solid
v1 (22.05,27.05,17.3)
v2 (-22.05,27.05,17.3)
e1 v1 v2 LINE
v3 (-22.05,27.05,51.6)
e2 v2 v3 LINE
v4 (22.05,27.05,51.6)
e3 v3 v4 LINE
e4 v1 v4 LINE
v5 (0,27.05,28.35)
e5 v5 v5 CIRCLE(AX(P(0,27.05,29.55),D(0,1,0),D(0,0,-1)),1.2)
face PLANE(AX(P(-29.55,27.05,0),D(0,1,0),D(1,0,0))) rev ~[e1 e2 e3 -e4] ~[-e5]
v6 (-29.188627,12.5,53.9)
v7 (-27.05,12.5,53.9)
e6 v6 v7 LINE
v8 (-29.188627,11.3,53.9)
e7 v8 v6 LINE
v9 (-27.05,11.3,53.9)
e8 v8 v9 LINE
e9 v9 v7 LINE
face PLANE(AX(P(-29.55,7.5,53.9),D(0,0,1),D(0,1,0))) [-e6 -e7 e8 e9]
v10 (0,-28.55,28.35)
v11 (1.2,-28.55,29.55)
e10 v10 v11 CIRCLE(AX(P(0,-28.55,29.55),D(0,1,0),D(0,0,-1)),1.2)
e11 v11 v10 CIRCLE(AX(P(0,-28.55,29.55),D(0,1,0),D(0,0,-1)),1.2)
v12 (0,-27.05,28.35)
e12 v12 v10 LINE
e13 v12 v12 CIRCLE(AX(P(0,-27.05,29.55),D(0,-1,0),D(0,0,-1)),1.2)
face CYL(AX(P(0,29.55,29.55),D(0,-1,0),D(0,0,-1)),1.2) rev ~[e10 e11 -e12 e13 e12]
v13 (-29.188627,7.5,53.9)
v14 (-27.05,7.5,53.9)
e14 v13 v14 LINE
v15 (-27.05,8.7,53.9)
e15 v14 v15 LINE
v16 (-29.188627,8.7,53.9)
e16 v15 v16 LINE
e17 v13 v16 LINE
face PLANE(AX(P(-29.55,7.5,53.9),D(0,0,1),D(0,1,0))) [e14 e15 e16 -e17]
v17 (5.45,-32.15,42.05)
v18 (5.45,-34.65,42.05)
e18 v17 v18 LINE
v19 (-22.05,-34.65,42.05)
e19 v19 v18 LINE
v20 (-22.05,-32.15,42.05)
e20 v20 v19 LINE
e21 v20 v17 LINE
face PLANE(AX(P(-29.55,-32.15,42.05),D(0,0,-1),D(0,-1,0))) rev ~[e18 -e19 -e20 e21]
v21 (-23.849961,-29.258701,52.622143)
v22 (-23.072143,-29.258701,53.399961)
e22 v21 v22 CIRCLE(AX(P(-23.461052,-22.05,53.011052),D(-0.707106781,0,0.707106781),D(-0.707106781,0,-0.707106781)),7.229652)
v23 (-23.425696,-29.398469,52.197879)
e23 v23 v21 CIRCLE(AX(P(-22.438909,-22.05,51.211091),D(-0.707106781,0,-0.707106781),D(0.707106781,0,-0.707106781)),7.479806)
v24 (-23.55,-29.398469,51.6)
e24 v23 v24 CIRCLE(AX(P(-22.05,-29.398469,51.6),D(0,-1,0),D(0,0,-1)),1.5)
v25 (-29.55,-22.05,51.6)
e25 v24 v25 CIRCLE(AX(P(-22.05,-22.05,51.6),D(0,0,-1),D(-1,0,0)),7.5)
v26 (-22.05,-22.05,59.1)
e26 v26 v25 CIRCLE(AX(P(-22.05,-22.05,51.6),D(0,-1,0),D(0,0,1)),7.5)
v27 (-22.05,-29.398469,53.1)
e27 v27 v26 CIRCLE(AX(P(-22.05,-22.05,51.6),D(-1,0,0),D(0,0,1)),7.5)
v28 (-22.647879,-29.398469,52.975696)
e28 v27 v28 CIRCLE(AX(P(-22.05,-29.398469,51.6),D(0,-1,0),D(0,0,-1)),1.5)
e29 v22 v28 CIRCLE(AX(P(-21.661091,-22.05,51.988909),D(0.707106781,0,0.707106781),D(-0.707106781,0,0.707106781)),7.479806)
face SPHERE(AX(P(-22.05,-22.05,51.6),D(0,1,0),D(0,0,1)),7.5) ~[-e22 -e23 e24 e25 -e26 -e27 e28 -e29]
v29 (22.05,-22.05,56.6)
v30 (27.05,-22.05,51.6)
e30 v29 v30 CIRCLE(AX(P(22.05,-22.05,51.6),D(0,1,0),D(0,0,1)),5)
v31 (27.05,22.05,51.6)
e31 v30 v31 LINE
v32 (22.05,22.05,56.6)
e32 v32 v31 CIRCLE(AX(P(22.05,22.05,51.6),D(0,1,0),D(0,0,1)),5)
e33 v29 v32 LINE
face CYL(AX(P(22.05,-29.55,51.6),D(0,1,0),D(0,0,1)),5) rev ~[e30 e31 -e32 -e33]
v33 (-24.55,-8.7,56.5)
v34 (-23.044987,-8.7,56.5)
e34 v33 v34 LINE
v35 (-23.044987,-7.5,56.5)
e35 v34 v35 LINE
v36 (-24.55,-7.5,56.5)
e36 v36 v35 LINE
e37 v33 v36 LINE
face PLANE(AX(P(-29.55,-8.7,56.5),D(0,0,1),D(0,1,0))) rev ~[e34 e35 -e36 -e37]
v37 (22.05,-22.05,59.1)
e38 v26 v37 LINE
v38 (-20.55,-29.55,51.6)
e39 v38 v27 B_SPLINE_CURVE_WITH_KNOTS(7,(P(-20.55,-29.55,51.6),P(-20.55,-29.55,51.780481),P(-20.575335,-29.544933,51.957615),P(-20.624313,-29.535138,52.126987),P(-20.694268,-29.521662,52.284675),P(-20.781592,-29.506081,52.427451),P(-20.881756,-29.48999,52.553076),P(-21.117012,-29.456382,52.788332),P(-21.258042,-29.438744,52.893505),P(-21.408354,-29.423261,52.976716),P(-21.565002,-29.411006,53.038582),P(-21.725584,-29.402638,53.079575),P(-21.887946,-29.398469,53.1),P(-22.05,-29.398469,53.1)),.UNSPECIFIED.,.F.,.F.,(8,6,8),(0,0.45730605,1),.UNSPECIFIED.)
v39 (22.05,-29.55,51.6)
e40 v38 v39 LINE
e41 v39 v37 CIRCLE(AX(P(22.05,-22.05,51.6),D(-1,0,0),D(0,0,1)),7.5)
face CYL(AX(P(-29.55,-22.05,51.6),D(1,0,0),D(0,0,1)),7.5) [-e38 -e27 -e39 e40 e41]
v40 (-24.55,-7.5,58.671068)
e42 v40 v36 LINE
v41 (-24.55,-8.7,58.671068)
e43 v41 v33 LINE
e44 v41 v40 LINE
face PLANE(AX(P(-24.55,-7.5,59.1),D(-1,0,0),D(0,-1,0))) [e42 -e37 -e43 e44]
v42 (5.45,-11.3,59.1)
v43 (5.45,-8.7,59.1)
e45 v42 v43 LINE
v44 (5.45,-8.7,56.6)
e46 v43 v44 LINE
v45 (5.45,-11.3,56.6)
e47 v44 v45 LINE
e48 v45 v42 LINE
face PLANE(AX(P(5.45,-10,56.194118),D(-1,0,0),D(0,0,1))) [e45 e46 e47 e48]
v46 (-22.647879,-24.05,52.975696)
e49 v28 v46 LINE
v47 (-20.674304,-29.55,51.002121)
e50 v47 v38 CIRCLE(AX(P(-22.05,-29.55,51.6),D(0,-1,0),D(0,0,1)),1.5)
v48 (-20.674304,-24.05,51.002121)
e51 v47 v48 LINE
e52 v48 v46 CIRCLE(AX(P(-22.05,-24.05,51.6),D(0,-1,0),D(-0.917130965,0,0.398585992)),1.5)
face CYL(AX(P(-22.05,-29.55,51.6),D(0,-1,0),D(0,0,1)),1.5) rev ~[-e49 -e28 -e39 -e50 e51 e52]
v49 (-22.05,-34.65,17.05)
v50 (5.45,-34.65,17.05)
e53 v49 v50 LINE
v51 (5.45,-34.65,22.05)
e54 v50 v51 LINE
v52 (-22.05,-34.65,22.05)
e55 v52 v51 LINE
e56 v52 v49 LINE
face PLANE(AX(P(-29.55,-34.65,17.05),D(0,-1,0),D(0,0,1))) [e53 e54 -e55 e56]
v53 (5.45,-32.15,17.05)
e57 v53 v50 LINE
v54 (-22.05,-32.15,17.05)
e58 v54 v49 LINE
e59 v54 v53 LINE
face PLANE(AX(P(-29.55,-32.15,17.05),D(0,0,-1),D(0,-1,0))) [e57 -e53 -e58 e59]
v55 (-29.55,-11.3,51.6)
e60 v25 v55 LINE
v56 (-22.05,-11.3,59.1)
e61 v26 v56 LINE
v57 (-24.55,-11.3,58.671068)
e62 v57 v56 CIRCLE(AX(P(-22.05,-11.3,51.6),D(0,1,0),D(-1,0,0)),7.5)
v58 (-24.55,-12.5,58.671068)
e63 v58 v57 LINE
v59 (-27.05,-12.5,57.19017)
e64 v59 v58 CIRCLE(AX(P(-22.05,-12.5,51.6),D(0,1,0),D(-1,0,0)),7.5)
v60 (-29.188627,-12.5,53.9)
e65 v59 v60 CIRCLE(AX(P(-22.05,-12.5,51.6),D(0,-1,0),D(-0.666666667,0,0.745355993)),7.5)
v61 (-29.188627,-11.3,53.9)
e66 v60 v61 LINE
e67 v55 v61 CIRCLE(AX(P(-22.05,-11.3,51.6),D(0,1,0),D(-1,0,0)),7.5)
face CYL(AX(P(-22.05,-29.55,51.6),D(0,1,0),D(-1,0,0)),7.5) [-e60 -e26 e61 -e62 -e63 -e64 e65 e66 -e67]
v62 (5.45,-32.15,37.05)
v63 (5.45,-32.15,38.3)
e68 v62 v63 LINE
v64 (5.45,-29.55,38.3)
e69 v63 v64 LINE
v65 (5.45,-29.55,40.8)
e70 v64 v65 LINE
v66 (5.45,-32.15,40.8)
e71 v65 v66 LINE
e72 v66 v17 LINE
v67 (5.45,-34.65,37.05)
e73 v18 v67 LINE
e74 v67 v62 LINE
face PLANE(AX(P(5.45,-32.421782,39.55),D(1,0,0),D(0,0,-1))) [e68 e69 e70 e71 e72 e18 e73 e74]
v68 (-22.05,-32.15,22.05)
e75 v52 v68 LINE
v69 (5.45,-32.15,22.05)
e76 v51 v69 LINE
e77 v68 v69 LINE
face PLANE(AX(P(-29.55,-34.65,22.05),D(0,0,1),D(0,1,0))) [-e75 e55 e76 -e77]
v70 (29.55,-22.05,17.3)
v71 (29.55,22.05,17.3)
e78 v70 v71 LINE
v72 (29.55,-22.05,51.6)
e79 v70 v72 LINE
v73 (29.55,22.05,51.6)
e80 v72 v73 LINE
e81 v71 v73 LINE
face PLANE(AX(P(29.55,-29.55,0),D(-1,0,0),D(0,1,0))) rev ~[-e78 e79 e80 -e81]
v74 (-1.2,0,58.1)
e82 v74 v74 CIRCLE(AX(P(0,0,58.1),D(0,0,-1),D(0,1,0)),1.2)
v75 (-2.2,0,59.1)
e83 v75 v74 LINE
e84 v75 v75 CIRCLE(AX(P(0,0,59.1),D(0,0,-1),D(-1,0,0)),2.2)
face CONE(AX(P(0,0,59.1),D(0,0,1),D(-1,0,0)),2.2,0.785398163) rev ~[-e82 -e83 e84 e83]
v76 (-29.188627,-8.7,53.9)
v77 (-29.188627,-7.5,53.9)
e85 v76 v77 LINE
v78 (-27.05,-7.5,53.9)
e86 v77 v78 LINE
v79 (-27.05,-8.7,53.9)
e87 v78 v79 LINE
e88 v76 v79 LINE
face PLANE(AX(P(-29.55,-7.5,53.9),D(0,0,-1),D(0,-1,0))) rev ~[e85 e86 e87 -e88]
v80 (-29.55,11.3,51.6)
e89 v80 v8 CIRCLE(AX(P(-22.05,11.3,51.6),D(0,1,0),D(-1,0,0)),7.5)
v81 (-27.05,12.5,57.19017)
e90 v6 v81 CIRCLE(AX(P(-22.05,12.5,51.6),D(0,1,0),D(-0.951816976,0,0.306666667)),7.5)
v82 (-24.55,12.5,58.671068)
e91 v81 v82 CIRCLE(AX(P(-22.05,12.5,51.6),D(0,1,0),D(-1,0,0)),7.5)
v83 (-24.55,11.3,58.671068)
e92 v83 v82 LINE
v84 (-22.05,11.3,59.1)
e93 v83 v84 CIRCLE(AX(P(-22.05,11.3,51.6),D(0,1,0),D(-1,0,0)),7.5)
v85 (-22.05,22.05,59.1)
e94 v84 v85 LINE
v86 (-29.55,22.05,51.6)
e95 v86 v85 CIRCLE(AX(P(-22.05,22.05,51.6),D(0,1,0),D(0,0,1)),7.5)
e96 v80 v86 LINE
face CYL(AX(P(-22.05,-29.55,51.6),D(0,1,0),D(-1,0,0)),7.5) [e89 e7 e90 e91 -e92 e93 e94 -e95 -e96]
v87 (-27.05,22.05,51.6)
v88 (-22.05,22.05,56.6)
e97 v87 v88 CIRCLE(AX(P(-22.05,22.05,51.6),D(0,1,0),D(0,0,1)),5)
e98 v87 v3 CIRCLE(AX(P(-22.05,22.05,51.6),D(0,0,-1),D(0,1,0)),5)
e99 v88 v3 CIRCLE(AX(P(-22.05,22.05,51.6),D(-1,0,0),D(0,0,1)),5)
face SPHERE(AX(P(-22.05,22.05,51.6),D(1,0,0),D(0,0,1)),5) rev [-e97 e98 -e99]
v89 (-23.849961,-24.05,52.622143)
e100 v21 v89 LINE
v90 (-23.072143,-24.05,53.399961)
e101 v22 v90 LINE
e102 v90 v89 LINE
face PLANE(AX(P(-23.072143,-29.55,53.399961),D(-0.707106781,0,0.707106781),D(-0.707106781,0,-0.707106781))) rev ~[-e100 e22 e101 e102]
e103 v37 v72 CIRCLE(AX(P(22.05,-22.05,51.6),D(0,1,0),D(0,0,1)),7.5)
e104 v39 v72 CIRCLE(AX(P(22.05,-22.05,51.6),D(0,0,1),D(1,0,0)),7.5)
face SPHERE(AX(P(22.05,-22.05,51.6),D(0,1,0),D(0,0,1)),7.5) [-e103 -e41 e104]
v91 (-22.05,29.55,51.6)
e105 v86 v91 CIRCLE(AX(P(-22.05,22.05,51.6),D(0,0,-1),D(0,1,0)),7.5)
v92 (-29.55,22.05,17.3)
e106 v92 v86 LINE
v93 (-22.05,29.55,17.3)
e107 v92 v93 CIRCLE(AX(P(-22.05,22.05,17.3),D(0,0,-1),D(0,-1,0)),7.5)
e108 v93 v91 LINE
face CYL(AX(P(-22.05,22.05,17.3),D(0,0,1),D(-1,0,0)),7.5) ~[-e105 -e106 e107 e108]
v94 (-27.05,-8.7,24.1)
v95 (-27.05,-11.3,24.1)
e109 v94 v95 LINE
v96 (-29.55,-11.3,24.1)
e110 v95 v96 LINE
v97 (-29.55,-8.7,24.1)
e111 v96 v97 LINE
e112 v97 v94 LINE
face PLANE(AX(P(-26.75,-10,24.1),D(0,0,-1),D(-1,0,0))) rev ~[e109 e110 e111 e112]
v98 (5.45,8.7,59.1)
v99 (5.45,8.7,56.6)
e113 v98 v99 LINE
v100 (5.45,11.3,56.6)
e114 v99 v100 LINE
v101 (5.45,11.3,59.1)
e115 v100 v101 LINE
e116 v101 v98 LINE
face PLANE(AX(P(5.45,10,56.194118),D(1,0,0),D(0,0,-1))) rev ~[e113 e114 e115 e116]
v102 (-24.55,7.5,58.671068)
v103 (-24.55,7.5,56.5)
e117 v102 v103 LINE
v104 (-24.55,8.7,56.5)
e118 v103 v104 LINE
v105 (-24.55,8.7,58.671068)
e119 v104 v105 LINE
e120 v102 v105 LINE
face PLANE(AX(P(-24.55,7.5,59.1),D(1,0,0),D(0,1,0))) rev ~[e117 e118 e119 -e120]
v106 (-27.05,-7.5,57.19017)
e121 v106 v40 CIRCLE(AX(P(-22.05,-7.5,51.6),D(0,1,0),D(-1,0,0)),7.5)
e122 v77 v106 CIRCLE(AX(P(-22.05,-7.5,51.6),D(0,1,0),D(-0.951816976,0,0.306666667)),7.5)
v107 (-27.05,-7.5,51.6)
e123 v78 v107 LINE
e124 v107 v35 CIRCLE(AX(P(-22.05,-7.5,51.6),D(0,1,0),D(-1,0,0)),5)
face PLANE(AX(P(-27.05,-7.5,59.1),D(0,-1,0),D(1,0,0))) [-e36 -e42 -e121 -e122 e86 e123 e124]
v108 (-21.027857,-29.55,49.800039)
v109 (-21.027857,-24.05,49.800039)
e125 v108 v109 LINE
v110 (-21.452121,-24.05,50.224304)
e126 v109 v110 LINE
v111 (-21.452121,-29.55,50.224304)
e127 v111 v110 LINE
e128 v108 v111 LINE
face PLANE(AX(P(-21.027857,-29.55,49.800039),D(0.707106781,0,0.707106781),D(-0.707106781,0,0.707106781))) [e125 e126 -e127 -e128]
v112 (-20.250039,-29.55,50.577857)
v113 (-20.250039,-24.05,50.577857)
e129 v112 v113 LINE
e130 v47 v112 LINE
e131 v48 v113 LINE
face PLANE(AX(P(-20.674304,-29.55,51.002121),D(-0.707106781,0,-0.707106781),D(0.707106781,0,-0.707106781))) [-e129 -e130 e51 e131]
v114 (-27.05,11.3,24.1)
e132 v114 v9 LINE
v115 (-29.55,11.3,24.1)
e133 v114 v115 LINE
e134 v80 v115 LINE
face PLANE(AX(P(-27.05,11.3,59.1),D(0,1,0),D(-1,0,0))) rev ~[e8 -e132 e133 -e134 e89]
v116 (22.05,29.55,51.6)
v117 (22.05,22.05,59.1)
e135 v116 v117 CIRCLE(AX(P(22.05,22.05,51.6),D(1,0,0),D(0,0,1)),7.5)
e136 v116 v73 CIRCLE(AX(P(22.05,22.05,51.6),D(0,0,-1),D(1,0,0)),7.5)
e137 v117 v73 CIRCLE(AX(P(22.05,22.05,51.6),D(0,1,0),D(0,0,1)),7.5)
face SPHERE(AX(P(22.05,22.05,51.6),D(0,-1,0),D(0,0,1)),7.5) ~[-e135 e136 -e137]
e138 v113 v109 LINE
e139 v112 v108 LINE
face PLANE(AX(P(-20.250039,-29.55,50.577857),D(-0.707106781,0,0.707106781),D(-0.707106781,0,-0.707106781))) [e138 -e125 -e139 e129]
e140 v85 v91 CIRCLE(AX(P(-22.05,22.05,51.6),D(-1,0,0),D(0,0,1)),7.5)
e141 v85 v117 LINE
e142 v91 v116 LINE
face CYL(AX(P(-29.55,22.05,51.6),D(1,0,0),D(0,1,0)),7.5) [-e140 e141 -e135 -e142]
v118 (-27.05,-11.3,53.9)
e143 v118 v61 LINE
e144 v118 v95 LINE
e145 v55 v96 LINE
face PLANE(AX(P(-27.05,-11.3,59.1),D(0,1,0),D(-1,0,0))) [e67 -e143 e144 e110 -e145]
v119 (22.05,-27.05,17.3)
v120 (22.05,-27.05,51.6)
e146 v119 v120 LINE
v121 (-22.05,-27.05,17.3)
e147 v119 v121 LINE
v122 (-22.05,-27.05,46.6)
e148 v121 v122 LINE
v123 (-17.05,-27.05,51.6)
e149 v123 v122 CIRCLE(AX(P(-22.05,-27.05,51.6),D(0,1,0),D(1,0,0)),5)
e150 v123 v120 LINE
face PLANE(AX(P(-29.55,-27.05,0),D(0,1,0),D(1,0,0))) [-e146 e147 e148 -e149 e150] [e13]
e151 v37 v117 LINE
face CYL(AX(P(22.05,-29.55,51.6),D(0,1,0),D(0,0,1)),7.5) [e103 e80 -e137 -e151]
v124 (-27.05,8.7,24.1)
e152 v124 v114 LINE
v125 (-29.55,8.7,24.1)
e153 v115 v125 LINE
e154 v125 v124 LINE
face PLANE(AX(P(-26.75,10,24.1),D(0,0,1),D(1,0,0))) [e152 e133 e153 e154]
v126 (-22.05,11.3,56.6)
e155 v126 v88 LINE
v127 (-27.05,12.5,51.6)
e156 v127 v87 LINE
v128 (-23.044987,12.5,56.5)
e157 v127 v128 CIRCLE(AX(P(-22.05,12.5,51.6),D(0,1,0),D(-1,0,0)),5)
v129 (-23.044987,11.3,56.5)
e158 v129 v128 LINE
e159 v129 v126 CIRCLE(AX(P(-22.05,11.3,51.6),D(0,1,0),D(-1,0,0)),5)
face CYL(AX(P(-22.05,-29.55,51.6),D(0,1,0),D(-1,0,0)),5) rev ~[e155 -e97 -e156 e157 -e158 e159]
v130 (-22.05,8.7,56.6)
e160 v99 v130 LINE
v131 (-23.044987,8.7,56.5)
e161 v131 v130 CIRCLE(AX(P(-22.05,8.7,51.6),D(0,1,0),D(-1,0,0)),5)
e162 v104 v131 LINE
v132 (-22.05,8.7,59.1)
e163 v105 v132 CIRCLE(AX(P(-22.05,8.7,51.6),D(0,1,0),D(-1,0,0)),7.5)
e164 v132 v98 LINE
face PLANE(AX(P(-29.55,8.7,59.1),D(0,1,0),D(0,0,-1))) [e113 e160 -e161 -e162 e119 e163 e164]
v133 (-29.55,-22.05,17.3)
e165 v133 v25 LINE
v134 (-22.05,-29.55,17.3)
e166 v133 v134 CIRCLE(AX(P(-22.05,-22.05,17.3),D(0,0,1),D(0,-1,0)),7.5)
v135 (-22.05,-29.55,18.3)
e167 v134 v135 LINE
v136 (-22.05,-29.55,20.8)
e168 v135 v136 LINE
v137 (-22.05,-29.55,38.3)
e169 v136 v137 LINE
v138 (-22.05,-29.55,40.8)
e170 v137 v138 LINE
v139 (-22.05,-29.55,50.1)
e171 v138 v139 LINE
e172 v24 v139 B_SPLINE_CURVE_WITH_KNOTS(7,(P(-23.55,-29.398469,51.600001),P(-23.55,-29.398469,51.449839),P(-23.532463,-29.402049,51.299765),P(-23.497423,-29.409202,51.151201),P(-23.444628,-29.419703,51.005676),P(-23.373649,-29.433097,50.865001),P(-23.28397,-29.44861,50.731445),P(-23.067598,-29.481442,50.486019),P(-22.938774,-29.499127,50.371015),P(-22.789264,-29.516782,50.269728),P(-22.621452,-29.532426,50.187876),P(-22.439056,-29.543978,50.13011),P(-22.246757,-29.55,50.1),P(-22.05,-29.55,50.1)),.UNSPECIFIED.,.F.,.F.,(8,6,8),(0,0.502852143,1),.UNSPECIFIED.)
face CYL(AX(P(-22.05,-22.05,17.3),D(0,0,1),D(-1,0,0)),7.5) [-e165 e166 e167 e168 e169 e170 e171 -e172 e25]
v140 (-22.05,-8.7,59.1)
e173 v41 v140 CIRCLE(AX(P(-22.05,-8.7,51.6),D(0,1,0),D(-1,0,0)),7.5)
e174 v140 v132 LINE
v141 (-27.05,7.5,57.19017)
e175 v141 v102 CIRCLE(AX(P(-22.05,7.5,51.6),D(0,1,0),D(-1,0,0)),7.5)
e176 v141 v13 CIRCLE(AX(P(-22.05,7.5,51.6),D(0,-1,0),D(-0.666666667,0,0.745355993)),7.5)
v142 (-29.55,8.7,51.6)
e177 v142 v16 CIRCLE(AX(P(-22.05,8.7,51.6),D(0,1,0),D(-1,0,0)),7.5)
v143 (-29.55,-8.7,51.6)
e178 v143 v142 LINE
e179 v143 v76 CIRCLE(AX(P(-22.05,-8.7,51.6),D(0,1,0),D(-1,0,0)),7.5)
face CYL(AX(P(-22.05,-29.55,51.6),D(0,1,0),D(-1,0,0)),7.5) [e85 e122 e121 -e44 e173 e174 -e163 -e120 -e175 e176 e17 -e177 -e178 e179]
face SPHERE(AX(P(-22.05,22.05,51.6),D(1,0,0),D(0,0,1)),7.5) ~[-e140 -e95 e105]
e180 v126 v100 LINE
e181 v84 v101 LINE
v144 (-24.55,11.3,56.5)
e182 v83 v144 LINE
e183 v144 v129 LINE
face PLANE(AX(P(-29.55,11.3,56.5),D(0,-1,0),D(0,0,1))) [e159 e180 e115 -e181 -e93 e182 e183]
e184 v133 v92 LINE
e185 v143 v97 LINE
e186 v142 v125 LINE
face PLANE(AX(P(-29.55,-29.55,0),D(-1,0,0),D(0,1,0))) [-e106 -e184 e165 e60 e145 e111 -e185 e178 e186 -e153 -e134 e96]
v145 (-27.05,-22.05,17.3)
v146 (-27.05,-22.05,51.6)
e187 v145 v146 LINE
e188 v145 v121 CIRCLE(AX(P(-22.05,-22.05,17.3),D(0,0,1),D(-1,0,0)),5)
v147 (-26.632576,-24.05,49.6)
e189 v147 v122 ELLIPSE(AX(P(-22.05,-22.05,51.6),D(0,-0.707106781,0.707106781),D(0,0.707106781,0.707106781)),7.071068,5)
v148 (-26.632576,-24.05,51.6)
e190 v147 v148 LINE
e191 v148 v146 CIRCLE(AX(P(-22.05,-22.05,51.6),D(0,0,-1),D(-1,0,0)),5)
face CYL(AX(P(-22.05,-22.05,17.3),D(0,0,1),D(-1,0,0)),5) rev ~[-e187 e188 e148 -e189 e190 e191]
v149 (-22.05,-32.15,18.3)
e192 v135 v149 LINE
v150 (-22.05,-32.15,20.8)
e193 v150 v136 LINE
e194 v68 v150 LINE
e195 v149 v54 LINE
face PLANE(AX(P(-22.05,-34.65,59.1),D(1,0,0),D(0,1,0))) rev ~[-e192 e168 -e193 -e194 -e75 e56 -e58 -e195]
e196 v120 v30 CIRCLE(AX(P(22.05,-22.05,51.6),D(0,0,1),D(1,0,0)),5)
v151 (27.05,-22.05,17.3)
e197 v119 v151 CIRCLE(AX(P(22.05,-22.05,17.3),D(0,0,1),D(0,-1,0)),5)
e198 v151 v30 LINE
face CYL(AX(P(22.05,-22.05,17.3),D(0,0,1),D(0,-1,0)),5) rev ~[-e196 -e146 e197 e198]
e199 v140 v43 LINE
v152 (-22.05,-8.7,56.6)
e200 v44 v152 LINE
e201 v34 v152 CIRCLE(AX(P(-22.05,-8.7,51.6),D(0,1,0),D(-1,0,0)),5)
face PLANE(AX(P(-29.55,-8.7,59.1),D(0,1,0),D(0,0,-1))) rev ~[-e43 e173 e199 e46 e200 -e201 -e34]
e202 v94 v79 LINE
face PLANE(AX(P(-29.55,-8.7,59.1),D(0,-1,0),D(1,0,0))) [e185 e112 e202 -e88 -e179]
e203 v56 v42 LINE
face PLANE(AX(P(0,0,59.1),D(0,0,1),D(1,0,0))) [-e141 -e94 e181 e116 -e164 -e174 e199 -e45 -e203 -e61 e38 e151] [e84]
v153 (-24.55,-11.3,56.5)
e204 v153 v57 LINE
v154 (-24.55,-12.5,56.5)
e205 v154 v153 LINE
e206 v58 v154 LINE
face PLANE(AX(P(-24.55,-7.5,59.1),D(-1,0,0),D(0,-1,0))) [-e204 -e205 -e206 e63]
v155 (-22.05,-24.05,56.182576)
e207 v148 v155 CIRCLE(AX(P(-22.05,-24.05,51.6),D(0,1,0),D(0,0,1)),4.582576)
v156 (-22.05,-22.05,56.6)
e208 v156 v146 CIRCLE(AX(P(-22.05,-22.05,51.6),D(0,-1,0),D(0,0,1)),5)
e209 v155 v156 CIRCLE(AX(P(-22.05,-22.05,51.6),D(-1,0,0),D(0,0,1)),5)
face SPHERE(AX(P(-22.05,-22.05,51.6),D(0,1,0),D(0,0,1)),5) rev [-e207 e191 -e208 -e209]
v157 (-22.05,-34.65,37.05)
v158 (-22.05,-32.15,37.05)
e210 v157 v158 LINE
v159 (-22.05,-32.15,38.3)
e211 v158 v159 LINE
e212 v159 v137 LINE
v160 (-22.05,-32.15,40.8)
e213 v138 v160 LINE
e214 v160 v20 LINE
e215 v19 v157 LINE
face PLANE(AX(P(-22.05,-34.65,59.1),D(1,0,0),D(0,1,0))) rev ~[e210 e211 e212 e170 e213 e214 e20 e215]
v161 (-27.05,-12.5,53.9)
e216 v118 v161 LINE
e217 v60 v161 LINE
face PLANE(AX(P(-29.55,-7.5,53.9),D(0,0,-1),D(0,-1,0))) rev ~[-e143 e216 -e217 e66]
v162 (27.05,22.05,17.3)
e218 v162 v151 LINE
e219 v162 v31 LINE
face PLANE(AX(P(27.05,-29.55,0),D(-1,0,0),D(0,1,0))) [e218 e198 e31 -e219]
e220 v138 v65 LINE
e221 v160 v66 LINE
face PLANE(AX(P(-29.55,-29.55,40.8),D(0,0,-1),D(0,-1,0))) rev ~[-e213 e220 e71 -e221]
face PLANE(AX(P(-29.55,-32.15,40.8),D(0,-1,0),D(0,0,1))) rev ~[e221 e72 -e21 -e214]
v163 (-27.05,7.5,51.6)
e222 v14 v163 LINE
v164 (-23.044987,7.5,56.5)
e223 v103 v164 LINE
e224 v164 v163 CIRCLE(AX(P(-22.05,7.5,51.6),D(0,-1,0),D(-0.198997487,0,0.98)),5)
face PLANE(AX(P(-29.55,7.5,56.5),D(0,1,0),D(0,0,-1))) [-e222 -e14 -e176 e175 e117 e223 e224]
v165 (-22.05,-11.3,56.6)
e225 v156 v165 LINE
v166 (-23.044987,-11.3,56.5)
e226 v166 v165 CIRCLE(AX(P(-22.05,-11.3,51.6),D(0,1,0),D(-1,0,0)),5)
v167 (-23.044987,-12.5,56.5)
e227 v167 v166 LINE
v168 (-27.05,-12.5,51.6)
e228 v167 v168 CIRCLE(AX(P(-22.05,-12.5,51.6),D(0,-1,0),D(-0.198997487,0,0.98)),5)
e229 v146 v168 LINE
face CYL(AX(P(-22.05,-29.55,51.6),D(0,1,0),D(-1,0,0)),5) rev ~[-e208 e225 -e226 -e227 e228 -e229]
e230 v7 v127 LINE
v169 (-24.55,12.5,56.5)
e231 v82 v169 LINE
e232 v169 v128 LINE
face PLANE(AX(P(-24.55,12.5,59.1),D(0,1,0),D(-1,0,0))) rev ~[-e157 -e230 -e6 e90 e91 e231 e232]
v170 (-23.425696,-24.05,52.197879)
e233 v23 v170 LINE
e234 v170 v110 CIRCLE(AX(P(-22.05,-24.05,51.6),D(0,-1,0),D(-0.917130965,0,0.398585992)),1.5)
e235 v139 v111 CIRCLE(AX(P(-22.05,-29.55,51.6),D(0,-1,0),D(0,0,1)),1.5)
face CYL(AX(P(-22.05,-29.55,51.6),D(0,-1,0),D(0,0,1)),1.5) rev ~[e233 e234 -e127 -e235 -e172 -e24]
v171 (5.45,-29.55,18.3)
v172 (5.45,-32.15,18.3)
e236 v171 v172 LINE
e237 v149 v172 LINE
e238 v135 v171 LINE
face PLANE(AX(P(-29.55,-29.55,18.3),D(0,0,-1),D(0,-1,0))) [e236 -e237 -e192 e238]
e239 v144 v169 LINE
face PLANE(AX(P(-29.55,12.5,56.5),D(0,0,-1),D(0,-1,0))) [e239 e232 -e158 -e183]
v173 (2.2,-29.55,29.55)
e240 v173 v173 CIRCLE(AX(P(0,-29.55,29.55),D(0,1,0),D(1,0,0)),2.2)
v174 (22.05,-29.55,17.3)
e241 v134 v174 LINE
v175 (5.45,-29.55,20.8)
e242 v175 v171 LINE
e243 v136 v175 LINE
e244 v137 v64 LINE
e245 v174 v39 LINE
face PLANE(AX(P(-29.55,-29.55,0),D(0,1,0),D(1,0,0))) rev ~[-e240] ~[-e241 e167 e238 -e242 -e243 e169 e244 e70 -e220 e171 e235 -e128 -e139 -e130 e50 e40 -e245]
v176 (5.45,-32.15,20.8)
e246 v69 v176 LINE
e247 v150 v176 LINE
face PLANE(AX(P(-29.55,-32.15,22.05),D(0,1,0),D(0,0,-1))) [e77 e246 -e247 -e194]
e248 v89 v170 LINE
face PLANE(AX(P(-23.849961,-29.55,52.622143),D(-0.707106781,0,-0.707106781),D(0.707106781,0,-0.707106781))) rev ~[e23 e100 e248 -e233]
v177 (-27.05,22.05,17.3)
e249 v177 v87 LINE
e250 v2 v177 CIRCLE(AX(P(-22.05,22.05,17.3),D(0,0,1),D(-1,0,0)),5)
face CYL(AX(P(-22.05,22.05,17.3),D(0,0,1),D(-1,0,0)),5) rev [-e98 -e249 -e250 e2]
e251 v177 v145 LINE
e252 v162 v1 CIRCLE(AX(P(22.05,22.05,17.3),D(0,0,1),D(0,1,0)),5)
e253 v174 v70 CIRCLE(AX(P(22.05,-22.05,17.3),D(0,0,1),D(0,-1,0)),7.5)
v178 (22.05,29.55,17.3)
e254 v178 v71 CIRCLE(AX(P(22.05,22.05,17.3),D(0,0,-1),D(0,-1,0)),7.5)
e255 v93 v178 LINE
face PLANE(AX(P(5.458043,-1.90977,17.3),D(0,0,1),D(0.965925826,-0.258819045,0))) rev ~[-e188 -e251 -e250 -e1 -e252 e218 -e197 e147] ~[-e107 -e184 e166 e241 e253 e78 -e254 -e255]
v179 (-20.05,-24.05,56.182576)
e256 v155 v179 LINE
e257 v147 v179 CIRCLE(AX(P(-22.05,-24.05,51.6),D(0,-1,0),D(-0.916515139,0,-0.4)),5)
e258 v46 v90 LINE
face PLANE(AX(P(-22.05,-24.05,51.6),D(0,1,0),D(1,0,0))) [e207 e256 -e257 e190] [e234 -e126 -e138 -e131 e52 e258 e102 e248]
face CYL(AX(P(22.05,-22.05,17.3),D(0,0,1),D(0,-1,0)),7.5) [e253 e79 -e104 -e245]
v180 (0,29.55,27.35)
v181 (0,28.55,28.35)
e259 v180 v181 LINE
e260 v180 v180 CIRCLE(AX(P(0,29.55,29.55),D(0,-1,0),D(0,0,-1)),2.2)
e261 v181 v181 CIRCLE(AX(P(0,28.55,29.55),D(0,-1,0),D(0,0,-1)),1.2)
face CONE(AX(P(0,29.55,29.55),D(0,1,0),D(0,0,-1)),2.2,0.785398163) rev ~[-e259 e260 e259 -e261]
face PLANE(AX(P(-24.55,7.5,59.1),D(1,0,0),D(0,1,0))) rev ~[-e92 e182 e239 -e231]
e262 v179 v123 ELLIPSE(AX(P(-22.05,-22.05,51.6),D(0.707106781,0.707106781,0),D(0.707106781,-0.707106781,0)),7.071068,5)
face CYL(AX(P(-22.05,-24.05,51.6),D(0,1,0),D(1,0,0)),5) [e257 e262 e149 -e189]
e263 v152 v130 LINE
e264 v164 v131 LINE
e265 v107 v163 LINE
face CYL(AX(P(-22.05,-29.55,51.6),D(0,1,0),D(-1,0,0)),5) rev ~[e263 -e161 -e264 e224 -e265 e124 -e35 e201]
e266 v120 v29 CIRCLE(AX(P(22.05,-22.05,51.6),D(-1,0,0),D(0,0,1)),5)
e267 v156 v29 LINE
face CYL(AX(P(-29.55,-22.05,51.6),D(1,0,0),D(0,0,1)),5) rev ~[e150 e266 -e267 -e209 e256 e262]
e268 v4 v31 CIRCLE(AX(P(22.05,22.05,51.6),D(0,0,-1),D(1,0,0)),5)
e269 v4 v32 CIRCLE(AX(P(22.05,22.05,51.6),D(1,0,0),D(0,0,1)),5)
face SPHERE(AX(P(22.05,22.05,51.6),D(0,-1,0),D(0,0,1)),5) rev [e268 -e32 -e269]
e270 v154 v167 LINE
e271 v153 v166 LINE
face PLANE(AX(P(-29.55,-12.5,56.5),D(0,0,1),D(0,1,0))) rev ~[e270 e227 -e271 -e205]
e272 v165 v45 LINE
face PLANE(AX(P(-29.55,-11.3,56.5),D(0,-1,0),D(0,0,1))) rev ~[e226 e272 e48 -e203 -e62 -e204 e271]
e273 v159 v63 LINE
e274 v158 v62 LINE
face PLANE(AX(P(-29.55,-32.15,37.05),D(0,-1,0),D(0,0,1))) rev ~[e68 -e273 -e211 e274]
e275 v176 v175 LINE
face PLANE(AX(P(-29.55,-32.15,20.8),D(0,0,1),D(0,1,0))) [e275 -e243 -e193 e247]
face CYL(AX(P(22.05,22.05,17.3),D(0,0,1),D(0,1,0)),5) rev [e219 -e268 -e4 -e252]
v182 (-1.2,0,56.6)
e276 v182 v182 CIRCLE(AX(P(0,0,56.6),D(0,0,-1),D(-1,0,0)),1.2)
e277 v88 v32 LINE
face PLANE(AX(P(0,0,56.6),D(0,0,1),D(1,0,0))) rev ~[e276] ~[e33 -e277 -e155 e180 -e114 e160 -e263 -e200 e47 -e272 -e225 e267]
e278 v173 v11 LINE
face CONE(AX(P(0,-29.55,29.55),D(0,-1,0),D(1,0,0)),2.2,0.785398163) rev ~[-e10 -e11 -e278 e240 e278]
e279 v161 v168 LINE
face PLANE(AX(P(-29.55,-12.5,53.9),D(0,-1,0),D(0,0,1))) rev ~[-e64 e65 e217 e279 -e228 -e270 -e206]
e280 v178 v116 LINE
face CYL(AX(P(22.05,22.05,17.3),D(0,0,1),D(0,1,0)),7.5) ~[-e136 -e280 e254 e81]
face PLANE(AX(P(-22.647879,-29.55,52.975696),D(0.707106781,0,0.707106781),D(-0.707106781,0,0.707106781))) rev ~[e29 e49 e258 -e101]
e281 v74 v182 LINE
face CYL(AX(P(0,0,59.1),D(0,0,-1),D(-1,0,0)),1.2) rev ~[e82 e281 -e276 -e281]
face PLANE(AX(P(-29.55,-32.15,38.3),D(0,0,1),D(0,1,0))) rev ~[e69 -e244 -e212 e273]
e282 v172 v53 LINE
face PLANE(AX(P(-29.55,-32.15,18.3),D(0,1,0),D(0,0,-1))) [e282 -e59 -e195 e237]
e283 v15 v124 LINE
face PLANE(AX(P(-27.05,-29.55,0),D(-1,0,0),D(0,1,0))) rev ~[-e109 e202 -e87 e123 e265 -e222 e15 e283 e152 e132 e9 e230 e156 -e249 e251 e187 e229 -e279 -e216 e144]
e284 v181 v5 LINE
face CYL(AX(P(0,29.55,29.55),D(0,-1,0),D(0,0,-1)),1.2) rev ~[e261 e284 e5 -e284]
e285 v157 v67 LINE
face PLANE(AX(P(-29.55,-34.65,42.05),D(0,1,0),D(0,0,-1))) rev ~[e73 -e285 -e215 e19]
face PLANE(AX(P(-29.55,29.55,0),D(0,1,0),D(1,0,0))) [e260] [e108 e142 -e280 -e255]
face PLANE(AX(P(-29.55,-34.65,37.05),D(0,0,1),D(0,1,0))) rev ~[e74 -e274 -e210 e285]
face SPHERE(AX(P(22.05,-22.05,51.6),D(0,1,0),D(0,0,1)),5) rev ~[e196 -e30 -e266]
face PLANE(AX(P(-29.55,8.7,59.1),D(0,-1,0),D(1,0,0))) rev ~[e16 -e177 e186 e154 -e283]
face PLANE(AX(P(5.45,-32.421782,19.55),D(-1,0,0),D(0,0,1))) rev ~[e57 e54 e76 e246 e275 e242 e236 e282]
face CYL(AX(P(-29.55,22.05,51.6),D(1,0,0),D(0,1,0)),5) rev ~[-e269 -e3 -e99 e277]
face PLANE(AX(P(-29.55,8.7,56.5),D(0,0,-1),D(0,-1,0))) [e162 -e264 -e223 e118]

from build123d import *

# Parameters (mm, degrees)
SKETCH1_W                                            = 59.1
SKETCH1_H                                            = 59.1
BOSS_EXTRUDE1_DEPTH                                  = 59.1
CUT_EXTRUDE1_START                                   = -2.25
SKETCH2_W                                            = 116.357411776
SKETCH2_H                                            = 94.431830133
CUT_EXTRUDE1_DEPTH                                   = 71.232302632
FILLET1_R                                            = 7.5
SHELL1_T                                             = -2.5
CUT_EXTRUDE7_DEPTH                                   = 35
CUT_EXTRUDE8_DEPTH                                   = 35
SKETCH16_W                                           = 0.690169944
SKETCH16_H                                           = 5
CUT_EXTRUDE9_DEPTH                                   = 88.003290168
BOSS_EXTRUDE2_START                                  = 3
SKETCH18_R                                           = 5
BOSS_EXTRUDE2_DEPTH                                  = 3
SKETCH17_R                                           = 1.5
CUT_EXTRUDE10_DEPTH                                  = 10
CUT_EXTRUDE11_REACH                                  = 90.65
CSK_SLOT_FOR_M2_COUNTERSUNK_FLAT_HEAD_SC_D           = 2.4
CSK_SLOT_FOR_M2_COUNTERSUNK_FLAT_HEAD_SC_CSINK_D     = 4.4
CSK_SLOT_FOR_M2_COUNTERSUNK_FLAT_HEAD_SC_CSINK_ANGLE = 90
CSK_SLOT_FOR_M2_COUNTERSUNK_FLAT_HEA_2_D             = 2.4
CSK_SLOT_FOR_M2_COUNTERSUNK_FLAT_HEA_2_CSINK_D       = 4.4
CSK_SLOT_FOR_M2_COUNTERSUNK_FLAT_HEA_2_CSINK_ANGLE   = 90
CSK_SLOT_FOR_M2_COUNTERSUNK_FLAT_HEA_3_D             = 2.4
CSK_SLOT_FOR_M2_COUNTERSUNK_FLAT_HEA_3_CSINK_D       = 4.4
CSK_SLOT_FOR_M2_COUNTERSUNK_FLAT_HEA_3_CSINK_ANGLE   = 90
BOSS_EXTRUDE3_DEPTH                                  = 35
SKETCH28_W                                           = 7.5
SKETCH28_H                                           = 5.1
CUT_EXTRUDE12_DEPTH                                  = 62.984090748


with BuildPart() as part:
    # Sketch1 → Boss-Extrude1 (new body)
    with BuildSketch(Plane.XY):
        Rectangle(SKETCH1_W, SKETCH1_H)
    extrude(amount=BOSS_EXTRUDE1_DEPTH)

    # Sketch2 → Cut-Extrude1 (cut, through all)
    with BuildSketch(Plane(origin=(-13.400446417, -13.400446417, 19.55), x_dir=(0.9659258262890684, -0.2588190451025203, 0), z_dir=(0, 0, 1)).offset(CUT_EXTRUDE1_START)):
        with Locations((15.241895832, 15.980077556)):
            Rectangle(SKETCH2_W, SKETCH2_H)
    extrude(amount=-CUT_EXTRUDE1_DEPTH, mode=Mode.SUBTRACT)

    # Fillet1
    fillet1_edges = [part.edges().sort_by_distance(p)[0] for p in [
        (29.55, 0, 59.1),
        (0, 29.55, 59.1),
        (-29.55, 0, 59.1),
        (0, -29.55, 59.1),
        (-29.55, 29.55, 38.2),
        (29.55, 29.55, 38.2),
        (29.55, -29.55, 38.2),
        (-29.55, -29.55, 38.2),
    ]]
    fillet(fillet1_edges, radius=FILLET1_R)

    # Shell1
    shell1_openings = [part.faces().sort_by_distance(p)[0] for p in [
        (0, 0, 17.3),
    ]]
    offset(amount=SHELL1_T, openings=shell1_openings, kind=Kind.INTERSECTION)

    # Sketch14 → Cut-Extrude7 (cut)
    with BuildSketch(Plane.XY.offset(59.1)):
        Polygon((-29.55, -8.7), (-27.05, -8.7), (-27.05, -7.5), (-24.55, -7.5), (-24.55, -12.5), (-27.05, -12.5), (-27.05, -11.3), (-29.55, -11.3), align=None)
        Polygon((-29.55, 11.3), (-29.55, 8.7), (-27.05, 8.7), (-27.05, 7.5), (-24.55, 7.5), (-24.55, 12.5), (-27.05, 12.5), (-27.05, 11.3), align=None)
    extrude(amount=-CUT_EXTRUDE7_DEPTH, mode=Mode.SUBTRACT)

    # Sketch15 → Cut-Extrude8 (cut)
    with BuildSketch(Plane(origin=(-29.55, 0, -29.55), x_dir=(0, 0, -1), z_dir=(1, 0, 0))):
        Polygon((-88.65, -8.7), (-86.05, -8.7), (-86.05, -7.5), (-83.45, -7.5), (-83.45, -12.5), (-86.05, -12.5), (-86.05, -11.3), (-88.65, -11.3), align=None)
        Polygon((-88.65, 11.3), (-88.65, 8.7), (-86.05, 8.7), (-86.05, 7.5), (-83.45, 7.5), (-83.45, 12.5), (-86.05, 12.5), (-86.05, 11.3), align=None)
    extrude(amount=CUT_EXTRUDE8_DEPTH, mode=Mode.SUBTRACT)

    # Sketch16 → Cut-Extrude9 (cut, through all)
    with BuildSketch(Plane(origin=(-27.05, 0, 0), x_dir=(0, 0, -1), z_dir=(1, 0, 0))):
        with Locations((-56.845084972, -10)):
            Rectangle(SKETCH16_W, SKETCH16_H)
        with Locations((-56.845084972, 10)):
            Rectangle(SKETCH16_W, SKETCH16_H)
    extrude(amount=-CUT_EXTRUDE9_DEPTH, mode=Mode.SUBTRACT)

    # Sketch18 → Boss-Extrude2 (add)
    with BuildSketch(Plane(origin=(0, -27.05, 0), x_dir=(1, 0, 0), z_dir=(0, 1, 0)).offset(BOSS_EXTRUDE2_START)):
        with Locations((-22.05, -51.6)):
            Circle(SKETCH18_R)
    extrude(amount=-BOSS_EXTRUDE2_DEPTH)

    # Sketch17 → Cut-Extrude10 (cut)
    with BuildSketch(Plane.XZ.offset(29.55)):
        with Locations(Location((-22.05, 51.6, 0), (0, 0, 90))):
            Circle(SKETCH17_R)
    extrude(amount=-CUT_EXTRUDE10_DEPTH, mode=Mode.SUBTRACT)

    # Sketch20 → Cut-Extrude11 (cut, up to next)
    with BuildSketch(Plane.XZ.offset(29.55), mode=Mode.PRIVATE) as cut_extrude11_sk1:
        with BuildLine():
            Line((-22.647878988, 52.975696447), (-23.072143057, 53.399960516))
            Line((-23.072143057, 53.399960516), (-23.849960516, 52.622143057))
            Line((-23.849960516, 52.622143057), (-23.425696447, 52.197878988))
            ThreePointArc((-23.425696447, 52.197878988), (-23.110660172, 52.660660172), (-22.647878988, 52.975696447))
        make_face()
    cut_extrude11_tool1 = extrude(cut_extrude11_sk1.sketch, amount=-CUT_EXTRUDE11_REACH, mode=Mode.PRIVATE) & part.part
    # Sketch20 → Cut-Extrude11 (cut, up to next)
    with BuildSketch(Plane.XZ.offset(29.55), mode=Mode.PRIVATE) as cut_extrude11_sk2:
        with BuildLine():
            Line((-21.027856943, 49.800039484), (-21.452121012, 50.224303553))
            ThreePointArc((-21.452121012, 50.224303553), (-20.989339828, 50.539339828), (-20.674303553, 51.002121012))
            Line((-20.674303553, 51.002121012), (-20.250039484, 50.577856943))
            Line((-20.250039484, 50.577856943), (-21.027856943, 49.800039484))
        make_face()
    cut_extrude11_tool2 = extrude(cut_extrude11_sk2.sketch, amount=-CUT_EXTRUDE11_REACH, mode=Mode.PRIVATE) & part.part
    add(cut_extrude11_tool1.solids().sort_by_distance((-23.27308, -29.55, 52.82308))[0], mode=Mode.SUBTRACT)
    add(cut_extrude11_tool2.solids().sort_by_distance((-20.82692, -29.55, 50.37692))[0], mode=Mode.SUBTRACT)

    # CSK SLOT for M2 Countersunk Flat Head Sc (through all)
    with Locations(Plane.ZX.offset(29.55)):
        with Locations((29.55, 0)):
            CounterSinkHole(CSK_SLOT_FOR_M2_COUNTERSUNK_FLAT_HEAD_SC_D / 2, CSK_SLOT_FOR_M2_COUNTERSUNK_FLAT_HEAD_SC_CSINK_D / 2, counter_sink_angle=CSK_SLOT_FOR_M2_COUNTERSUNK_FLAT_HEAD_SC_CSINK_ANGLE)

    # CSK SLOT for M2 Countersunk Flat Hea 2 (through all)
    with Locations(Plane.XY.offset(59.1)):
        with Locations((0, 0)):
            CounterSinkHole(CSK_SLOT_FOR_M2_COUNTERSUNK_FLAT_HEA_2_D / 2, CSK_SLOT_FOR_M2_COUNTERSUNK_FLAT_HEA_2_CSINK_D / 2, counter_sink_angle=CSK_SLOT_FOR_M2_COUNTERSUNK_FLAT_HEA_2_CSINK_ANGLE)

    # CSK SLOT for M2 Countersunk Flat Hea 3 (through all)
    with Locations(Plane(origin=(0, -29.55, 0), x_dir=(-1, 0, 0), z_dir=(0, -1, 0))):
        with Locations((0, -29.55)):
            CounterSinkHole(CSK_SLOT_FOR_M2_COUNTERSUNK_FLAT_HEA_3_D / 2, CSK_SLOT_FOR_M2_COUNTERSUNK_FLAT_HEA_3_CSINK_D / 2, counter_sink_angle=CSK_SLOT_FOR_M2_COUNTERSUNK_FLAT_HEA_3_CSINK_ANGLE)

    # Sketch27 → Boss-Extrude3 (add)
    with BuildSketch(Plane(origin=(-29.55, 29.55, 0), x_dir=(0, 0, -1), z_dir=(1, 0, 0))):
        Polygon((-18.3, -59.1), (-18.3, -61.7), (-17.05, -61.7), (-17.05, -64.2), (-22.05, -64.2), (-22.05, -61.7), (-20.8, -61.7), (-20.8, -59.1), align=None)
        Polygon((-38.3, -59.1), (-40.8, -59.1), (-40.8, -61.7), (-42.05, -61.7), (-42.05, -64.2), (-37.05, -64.2), (-37.05, -61.7), (-38.3, -61.7), align=None)
    extrude(amount=BOSS_EXTRUDE3_DEPTH)

    # Sketch28 → Cut-Extrude12 (cut, through all)
    with BuildSketch(Plane.XY.offset(59.1)):
        with Locations((-25.8, -32.1)):
            Rectangle(SKETCH28_W, SKETCH28_H)
    extrude(amount=-CUT_EXTRUDE12_DEPTH, mode=Mode.SUBTRACT)


solid = part.part
